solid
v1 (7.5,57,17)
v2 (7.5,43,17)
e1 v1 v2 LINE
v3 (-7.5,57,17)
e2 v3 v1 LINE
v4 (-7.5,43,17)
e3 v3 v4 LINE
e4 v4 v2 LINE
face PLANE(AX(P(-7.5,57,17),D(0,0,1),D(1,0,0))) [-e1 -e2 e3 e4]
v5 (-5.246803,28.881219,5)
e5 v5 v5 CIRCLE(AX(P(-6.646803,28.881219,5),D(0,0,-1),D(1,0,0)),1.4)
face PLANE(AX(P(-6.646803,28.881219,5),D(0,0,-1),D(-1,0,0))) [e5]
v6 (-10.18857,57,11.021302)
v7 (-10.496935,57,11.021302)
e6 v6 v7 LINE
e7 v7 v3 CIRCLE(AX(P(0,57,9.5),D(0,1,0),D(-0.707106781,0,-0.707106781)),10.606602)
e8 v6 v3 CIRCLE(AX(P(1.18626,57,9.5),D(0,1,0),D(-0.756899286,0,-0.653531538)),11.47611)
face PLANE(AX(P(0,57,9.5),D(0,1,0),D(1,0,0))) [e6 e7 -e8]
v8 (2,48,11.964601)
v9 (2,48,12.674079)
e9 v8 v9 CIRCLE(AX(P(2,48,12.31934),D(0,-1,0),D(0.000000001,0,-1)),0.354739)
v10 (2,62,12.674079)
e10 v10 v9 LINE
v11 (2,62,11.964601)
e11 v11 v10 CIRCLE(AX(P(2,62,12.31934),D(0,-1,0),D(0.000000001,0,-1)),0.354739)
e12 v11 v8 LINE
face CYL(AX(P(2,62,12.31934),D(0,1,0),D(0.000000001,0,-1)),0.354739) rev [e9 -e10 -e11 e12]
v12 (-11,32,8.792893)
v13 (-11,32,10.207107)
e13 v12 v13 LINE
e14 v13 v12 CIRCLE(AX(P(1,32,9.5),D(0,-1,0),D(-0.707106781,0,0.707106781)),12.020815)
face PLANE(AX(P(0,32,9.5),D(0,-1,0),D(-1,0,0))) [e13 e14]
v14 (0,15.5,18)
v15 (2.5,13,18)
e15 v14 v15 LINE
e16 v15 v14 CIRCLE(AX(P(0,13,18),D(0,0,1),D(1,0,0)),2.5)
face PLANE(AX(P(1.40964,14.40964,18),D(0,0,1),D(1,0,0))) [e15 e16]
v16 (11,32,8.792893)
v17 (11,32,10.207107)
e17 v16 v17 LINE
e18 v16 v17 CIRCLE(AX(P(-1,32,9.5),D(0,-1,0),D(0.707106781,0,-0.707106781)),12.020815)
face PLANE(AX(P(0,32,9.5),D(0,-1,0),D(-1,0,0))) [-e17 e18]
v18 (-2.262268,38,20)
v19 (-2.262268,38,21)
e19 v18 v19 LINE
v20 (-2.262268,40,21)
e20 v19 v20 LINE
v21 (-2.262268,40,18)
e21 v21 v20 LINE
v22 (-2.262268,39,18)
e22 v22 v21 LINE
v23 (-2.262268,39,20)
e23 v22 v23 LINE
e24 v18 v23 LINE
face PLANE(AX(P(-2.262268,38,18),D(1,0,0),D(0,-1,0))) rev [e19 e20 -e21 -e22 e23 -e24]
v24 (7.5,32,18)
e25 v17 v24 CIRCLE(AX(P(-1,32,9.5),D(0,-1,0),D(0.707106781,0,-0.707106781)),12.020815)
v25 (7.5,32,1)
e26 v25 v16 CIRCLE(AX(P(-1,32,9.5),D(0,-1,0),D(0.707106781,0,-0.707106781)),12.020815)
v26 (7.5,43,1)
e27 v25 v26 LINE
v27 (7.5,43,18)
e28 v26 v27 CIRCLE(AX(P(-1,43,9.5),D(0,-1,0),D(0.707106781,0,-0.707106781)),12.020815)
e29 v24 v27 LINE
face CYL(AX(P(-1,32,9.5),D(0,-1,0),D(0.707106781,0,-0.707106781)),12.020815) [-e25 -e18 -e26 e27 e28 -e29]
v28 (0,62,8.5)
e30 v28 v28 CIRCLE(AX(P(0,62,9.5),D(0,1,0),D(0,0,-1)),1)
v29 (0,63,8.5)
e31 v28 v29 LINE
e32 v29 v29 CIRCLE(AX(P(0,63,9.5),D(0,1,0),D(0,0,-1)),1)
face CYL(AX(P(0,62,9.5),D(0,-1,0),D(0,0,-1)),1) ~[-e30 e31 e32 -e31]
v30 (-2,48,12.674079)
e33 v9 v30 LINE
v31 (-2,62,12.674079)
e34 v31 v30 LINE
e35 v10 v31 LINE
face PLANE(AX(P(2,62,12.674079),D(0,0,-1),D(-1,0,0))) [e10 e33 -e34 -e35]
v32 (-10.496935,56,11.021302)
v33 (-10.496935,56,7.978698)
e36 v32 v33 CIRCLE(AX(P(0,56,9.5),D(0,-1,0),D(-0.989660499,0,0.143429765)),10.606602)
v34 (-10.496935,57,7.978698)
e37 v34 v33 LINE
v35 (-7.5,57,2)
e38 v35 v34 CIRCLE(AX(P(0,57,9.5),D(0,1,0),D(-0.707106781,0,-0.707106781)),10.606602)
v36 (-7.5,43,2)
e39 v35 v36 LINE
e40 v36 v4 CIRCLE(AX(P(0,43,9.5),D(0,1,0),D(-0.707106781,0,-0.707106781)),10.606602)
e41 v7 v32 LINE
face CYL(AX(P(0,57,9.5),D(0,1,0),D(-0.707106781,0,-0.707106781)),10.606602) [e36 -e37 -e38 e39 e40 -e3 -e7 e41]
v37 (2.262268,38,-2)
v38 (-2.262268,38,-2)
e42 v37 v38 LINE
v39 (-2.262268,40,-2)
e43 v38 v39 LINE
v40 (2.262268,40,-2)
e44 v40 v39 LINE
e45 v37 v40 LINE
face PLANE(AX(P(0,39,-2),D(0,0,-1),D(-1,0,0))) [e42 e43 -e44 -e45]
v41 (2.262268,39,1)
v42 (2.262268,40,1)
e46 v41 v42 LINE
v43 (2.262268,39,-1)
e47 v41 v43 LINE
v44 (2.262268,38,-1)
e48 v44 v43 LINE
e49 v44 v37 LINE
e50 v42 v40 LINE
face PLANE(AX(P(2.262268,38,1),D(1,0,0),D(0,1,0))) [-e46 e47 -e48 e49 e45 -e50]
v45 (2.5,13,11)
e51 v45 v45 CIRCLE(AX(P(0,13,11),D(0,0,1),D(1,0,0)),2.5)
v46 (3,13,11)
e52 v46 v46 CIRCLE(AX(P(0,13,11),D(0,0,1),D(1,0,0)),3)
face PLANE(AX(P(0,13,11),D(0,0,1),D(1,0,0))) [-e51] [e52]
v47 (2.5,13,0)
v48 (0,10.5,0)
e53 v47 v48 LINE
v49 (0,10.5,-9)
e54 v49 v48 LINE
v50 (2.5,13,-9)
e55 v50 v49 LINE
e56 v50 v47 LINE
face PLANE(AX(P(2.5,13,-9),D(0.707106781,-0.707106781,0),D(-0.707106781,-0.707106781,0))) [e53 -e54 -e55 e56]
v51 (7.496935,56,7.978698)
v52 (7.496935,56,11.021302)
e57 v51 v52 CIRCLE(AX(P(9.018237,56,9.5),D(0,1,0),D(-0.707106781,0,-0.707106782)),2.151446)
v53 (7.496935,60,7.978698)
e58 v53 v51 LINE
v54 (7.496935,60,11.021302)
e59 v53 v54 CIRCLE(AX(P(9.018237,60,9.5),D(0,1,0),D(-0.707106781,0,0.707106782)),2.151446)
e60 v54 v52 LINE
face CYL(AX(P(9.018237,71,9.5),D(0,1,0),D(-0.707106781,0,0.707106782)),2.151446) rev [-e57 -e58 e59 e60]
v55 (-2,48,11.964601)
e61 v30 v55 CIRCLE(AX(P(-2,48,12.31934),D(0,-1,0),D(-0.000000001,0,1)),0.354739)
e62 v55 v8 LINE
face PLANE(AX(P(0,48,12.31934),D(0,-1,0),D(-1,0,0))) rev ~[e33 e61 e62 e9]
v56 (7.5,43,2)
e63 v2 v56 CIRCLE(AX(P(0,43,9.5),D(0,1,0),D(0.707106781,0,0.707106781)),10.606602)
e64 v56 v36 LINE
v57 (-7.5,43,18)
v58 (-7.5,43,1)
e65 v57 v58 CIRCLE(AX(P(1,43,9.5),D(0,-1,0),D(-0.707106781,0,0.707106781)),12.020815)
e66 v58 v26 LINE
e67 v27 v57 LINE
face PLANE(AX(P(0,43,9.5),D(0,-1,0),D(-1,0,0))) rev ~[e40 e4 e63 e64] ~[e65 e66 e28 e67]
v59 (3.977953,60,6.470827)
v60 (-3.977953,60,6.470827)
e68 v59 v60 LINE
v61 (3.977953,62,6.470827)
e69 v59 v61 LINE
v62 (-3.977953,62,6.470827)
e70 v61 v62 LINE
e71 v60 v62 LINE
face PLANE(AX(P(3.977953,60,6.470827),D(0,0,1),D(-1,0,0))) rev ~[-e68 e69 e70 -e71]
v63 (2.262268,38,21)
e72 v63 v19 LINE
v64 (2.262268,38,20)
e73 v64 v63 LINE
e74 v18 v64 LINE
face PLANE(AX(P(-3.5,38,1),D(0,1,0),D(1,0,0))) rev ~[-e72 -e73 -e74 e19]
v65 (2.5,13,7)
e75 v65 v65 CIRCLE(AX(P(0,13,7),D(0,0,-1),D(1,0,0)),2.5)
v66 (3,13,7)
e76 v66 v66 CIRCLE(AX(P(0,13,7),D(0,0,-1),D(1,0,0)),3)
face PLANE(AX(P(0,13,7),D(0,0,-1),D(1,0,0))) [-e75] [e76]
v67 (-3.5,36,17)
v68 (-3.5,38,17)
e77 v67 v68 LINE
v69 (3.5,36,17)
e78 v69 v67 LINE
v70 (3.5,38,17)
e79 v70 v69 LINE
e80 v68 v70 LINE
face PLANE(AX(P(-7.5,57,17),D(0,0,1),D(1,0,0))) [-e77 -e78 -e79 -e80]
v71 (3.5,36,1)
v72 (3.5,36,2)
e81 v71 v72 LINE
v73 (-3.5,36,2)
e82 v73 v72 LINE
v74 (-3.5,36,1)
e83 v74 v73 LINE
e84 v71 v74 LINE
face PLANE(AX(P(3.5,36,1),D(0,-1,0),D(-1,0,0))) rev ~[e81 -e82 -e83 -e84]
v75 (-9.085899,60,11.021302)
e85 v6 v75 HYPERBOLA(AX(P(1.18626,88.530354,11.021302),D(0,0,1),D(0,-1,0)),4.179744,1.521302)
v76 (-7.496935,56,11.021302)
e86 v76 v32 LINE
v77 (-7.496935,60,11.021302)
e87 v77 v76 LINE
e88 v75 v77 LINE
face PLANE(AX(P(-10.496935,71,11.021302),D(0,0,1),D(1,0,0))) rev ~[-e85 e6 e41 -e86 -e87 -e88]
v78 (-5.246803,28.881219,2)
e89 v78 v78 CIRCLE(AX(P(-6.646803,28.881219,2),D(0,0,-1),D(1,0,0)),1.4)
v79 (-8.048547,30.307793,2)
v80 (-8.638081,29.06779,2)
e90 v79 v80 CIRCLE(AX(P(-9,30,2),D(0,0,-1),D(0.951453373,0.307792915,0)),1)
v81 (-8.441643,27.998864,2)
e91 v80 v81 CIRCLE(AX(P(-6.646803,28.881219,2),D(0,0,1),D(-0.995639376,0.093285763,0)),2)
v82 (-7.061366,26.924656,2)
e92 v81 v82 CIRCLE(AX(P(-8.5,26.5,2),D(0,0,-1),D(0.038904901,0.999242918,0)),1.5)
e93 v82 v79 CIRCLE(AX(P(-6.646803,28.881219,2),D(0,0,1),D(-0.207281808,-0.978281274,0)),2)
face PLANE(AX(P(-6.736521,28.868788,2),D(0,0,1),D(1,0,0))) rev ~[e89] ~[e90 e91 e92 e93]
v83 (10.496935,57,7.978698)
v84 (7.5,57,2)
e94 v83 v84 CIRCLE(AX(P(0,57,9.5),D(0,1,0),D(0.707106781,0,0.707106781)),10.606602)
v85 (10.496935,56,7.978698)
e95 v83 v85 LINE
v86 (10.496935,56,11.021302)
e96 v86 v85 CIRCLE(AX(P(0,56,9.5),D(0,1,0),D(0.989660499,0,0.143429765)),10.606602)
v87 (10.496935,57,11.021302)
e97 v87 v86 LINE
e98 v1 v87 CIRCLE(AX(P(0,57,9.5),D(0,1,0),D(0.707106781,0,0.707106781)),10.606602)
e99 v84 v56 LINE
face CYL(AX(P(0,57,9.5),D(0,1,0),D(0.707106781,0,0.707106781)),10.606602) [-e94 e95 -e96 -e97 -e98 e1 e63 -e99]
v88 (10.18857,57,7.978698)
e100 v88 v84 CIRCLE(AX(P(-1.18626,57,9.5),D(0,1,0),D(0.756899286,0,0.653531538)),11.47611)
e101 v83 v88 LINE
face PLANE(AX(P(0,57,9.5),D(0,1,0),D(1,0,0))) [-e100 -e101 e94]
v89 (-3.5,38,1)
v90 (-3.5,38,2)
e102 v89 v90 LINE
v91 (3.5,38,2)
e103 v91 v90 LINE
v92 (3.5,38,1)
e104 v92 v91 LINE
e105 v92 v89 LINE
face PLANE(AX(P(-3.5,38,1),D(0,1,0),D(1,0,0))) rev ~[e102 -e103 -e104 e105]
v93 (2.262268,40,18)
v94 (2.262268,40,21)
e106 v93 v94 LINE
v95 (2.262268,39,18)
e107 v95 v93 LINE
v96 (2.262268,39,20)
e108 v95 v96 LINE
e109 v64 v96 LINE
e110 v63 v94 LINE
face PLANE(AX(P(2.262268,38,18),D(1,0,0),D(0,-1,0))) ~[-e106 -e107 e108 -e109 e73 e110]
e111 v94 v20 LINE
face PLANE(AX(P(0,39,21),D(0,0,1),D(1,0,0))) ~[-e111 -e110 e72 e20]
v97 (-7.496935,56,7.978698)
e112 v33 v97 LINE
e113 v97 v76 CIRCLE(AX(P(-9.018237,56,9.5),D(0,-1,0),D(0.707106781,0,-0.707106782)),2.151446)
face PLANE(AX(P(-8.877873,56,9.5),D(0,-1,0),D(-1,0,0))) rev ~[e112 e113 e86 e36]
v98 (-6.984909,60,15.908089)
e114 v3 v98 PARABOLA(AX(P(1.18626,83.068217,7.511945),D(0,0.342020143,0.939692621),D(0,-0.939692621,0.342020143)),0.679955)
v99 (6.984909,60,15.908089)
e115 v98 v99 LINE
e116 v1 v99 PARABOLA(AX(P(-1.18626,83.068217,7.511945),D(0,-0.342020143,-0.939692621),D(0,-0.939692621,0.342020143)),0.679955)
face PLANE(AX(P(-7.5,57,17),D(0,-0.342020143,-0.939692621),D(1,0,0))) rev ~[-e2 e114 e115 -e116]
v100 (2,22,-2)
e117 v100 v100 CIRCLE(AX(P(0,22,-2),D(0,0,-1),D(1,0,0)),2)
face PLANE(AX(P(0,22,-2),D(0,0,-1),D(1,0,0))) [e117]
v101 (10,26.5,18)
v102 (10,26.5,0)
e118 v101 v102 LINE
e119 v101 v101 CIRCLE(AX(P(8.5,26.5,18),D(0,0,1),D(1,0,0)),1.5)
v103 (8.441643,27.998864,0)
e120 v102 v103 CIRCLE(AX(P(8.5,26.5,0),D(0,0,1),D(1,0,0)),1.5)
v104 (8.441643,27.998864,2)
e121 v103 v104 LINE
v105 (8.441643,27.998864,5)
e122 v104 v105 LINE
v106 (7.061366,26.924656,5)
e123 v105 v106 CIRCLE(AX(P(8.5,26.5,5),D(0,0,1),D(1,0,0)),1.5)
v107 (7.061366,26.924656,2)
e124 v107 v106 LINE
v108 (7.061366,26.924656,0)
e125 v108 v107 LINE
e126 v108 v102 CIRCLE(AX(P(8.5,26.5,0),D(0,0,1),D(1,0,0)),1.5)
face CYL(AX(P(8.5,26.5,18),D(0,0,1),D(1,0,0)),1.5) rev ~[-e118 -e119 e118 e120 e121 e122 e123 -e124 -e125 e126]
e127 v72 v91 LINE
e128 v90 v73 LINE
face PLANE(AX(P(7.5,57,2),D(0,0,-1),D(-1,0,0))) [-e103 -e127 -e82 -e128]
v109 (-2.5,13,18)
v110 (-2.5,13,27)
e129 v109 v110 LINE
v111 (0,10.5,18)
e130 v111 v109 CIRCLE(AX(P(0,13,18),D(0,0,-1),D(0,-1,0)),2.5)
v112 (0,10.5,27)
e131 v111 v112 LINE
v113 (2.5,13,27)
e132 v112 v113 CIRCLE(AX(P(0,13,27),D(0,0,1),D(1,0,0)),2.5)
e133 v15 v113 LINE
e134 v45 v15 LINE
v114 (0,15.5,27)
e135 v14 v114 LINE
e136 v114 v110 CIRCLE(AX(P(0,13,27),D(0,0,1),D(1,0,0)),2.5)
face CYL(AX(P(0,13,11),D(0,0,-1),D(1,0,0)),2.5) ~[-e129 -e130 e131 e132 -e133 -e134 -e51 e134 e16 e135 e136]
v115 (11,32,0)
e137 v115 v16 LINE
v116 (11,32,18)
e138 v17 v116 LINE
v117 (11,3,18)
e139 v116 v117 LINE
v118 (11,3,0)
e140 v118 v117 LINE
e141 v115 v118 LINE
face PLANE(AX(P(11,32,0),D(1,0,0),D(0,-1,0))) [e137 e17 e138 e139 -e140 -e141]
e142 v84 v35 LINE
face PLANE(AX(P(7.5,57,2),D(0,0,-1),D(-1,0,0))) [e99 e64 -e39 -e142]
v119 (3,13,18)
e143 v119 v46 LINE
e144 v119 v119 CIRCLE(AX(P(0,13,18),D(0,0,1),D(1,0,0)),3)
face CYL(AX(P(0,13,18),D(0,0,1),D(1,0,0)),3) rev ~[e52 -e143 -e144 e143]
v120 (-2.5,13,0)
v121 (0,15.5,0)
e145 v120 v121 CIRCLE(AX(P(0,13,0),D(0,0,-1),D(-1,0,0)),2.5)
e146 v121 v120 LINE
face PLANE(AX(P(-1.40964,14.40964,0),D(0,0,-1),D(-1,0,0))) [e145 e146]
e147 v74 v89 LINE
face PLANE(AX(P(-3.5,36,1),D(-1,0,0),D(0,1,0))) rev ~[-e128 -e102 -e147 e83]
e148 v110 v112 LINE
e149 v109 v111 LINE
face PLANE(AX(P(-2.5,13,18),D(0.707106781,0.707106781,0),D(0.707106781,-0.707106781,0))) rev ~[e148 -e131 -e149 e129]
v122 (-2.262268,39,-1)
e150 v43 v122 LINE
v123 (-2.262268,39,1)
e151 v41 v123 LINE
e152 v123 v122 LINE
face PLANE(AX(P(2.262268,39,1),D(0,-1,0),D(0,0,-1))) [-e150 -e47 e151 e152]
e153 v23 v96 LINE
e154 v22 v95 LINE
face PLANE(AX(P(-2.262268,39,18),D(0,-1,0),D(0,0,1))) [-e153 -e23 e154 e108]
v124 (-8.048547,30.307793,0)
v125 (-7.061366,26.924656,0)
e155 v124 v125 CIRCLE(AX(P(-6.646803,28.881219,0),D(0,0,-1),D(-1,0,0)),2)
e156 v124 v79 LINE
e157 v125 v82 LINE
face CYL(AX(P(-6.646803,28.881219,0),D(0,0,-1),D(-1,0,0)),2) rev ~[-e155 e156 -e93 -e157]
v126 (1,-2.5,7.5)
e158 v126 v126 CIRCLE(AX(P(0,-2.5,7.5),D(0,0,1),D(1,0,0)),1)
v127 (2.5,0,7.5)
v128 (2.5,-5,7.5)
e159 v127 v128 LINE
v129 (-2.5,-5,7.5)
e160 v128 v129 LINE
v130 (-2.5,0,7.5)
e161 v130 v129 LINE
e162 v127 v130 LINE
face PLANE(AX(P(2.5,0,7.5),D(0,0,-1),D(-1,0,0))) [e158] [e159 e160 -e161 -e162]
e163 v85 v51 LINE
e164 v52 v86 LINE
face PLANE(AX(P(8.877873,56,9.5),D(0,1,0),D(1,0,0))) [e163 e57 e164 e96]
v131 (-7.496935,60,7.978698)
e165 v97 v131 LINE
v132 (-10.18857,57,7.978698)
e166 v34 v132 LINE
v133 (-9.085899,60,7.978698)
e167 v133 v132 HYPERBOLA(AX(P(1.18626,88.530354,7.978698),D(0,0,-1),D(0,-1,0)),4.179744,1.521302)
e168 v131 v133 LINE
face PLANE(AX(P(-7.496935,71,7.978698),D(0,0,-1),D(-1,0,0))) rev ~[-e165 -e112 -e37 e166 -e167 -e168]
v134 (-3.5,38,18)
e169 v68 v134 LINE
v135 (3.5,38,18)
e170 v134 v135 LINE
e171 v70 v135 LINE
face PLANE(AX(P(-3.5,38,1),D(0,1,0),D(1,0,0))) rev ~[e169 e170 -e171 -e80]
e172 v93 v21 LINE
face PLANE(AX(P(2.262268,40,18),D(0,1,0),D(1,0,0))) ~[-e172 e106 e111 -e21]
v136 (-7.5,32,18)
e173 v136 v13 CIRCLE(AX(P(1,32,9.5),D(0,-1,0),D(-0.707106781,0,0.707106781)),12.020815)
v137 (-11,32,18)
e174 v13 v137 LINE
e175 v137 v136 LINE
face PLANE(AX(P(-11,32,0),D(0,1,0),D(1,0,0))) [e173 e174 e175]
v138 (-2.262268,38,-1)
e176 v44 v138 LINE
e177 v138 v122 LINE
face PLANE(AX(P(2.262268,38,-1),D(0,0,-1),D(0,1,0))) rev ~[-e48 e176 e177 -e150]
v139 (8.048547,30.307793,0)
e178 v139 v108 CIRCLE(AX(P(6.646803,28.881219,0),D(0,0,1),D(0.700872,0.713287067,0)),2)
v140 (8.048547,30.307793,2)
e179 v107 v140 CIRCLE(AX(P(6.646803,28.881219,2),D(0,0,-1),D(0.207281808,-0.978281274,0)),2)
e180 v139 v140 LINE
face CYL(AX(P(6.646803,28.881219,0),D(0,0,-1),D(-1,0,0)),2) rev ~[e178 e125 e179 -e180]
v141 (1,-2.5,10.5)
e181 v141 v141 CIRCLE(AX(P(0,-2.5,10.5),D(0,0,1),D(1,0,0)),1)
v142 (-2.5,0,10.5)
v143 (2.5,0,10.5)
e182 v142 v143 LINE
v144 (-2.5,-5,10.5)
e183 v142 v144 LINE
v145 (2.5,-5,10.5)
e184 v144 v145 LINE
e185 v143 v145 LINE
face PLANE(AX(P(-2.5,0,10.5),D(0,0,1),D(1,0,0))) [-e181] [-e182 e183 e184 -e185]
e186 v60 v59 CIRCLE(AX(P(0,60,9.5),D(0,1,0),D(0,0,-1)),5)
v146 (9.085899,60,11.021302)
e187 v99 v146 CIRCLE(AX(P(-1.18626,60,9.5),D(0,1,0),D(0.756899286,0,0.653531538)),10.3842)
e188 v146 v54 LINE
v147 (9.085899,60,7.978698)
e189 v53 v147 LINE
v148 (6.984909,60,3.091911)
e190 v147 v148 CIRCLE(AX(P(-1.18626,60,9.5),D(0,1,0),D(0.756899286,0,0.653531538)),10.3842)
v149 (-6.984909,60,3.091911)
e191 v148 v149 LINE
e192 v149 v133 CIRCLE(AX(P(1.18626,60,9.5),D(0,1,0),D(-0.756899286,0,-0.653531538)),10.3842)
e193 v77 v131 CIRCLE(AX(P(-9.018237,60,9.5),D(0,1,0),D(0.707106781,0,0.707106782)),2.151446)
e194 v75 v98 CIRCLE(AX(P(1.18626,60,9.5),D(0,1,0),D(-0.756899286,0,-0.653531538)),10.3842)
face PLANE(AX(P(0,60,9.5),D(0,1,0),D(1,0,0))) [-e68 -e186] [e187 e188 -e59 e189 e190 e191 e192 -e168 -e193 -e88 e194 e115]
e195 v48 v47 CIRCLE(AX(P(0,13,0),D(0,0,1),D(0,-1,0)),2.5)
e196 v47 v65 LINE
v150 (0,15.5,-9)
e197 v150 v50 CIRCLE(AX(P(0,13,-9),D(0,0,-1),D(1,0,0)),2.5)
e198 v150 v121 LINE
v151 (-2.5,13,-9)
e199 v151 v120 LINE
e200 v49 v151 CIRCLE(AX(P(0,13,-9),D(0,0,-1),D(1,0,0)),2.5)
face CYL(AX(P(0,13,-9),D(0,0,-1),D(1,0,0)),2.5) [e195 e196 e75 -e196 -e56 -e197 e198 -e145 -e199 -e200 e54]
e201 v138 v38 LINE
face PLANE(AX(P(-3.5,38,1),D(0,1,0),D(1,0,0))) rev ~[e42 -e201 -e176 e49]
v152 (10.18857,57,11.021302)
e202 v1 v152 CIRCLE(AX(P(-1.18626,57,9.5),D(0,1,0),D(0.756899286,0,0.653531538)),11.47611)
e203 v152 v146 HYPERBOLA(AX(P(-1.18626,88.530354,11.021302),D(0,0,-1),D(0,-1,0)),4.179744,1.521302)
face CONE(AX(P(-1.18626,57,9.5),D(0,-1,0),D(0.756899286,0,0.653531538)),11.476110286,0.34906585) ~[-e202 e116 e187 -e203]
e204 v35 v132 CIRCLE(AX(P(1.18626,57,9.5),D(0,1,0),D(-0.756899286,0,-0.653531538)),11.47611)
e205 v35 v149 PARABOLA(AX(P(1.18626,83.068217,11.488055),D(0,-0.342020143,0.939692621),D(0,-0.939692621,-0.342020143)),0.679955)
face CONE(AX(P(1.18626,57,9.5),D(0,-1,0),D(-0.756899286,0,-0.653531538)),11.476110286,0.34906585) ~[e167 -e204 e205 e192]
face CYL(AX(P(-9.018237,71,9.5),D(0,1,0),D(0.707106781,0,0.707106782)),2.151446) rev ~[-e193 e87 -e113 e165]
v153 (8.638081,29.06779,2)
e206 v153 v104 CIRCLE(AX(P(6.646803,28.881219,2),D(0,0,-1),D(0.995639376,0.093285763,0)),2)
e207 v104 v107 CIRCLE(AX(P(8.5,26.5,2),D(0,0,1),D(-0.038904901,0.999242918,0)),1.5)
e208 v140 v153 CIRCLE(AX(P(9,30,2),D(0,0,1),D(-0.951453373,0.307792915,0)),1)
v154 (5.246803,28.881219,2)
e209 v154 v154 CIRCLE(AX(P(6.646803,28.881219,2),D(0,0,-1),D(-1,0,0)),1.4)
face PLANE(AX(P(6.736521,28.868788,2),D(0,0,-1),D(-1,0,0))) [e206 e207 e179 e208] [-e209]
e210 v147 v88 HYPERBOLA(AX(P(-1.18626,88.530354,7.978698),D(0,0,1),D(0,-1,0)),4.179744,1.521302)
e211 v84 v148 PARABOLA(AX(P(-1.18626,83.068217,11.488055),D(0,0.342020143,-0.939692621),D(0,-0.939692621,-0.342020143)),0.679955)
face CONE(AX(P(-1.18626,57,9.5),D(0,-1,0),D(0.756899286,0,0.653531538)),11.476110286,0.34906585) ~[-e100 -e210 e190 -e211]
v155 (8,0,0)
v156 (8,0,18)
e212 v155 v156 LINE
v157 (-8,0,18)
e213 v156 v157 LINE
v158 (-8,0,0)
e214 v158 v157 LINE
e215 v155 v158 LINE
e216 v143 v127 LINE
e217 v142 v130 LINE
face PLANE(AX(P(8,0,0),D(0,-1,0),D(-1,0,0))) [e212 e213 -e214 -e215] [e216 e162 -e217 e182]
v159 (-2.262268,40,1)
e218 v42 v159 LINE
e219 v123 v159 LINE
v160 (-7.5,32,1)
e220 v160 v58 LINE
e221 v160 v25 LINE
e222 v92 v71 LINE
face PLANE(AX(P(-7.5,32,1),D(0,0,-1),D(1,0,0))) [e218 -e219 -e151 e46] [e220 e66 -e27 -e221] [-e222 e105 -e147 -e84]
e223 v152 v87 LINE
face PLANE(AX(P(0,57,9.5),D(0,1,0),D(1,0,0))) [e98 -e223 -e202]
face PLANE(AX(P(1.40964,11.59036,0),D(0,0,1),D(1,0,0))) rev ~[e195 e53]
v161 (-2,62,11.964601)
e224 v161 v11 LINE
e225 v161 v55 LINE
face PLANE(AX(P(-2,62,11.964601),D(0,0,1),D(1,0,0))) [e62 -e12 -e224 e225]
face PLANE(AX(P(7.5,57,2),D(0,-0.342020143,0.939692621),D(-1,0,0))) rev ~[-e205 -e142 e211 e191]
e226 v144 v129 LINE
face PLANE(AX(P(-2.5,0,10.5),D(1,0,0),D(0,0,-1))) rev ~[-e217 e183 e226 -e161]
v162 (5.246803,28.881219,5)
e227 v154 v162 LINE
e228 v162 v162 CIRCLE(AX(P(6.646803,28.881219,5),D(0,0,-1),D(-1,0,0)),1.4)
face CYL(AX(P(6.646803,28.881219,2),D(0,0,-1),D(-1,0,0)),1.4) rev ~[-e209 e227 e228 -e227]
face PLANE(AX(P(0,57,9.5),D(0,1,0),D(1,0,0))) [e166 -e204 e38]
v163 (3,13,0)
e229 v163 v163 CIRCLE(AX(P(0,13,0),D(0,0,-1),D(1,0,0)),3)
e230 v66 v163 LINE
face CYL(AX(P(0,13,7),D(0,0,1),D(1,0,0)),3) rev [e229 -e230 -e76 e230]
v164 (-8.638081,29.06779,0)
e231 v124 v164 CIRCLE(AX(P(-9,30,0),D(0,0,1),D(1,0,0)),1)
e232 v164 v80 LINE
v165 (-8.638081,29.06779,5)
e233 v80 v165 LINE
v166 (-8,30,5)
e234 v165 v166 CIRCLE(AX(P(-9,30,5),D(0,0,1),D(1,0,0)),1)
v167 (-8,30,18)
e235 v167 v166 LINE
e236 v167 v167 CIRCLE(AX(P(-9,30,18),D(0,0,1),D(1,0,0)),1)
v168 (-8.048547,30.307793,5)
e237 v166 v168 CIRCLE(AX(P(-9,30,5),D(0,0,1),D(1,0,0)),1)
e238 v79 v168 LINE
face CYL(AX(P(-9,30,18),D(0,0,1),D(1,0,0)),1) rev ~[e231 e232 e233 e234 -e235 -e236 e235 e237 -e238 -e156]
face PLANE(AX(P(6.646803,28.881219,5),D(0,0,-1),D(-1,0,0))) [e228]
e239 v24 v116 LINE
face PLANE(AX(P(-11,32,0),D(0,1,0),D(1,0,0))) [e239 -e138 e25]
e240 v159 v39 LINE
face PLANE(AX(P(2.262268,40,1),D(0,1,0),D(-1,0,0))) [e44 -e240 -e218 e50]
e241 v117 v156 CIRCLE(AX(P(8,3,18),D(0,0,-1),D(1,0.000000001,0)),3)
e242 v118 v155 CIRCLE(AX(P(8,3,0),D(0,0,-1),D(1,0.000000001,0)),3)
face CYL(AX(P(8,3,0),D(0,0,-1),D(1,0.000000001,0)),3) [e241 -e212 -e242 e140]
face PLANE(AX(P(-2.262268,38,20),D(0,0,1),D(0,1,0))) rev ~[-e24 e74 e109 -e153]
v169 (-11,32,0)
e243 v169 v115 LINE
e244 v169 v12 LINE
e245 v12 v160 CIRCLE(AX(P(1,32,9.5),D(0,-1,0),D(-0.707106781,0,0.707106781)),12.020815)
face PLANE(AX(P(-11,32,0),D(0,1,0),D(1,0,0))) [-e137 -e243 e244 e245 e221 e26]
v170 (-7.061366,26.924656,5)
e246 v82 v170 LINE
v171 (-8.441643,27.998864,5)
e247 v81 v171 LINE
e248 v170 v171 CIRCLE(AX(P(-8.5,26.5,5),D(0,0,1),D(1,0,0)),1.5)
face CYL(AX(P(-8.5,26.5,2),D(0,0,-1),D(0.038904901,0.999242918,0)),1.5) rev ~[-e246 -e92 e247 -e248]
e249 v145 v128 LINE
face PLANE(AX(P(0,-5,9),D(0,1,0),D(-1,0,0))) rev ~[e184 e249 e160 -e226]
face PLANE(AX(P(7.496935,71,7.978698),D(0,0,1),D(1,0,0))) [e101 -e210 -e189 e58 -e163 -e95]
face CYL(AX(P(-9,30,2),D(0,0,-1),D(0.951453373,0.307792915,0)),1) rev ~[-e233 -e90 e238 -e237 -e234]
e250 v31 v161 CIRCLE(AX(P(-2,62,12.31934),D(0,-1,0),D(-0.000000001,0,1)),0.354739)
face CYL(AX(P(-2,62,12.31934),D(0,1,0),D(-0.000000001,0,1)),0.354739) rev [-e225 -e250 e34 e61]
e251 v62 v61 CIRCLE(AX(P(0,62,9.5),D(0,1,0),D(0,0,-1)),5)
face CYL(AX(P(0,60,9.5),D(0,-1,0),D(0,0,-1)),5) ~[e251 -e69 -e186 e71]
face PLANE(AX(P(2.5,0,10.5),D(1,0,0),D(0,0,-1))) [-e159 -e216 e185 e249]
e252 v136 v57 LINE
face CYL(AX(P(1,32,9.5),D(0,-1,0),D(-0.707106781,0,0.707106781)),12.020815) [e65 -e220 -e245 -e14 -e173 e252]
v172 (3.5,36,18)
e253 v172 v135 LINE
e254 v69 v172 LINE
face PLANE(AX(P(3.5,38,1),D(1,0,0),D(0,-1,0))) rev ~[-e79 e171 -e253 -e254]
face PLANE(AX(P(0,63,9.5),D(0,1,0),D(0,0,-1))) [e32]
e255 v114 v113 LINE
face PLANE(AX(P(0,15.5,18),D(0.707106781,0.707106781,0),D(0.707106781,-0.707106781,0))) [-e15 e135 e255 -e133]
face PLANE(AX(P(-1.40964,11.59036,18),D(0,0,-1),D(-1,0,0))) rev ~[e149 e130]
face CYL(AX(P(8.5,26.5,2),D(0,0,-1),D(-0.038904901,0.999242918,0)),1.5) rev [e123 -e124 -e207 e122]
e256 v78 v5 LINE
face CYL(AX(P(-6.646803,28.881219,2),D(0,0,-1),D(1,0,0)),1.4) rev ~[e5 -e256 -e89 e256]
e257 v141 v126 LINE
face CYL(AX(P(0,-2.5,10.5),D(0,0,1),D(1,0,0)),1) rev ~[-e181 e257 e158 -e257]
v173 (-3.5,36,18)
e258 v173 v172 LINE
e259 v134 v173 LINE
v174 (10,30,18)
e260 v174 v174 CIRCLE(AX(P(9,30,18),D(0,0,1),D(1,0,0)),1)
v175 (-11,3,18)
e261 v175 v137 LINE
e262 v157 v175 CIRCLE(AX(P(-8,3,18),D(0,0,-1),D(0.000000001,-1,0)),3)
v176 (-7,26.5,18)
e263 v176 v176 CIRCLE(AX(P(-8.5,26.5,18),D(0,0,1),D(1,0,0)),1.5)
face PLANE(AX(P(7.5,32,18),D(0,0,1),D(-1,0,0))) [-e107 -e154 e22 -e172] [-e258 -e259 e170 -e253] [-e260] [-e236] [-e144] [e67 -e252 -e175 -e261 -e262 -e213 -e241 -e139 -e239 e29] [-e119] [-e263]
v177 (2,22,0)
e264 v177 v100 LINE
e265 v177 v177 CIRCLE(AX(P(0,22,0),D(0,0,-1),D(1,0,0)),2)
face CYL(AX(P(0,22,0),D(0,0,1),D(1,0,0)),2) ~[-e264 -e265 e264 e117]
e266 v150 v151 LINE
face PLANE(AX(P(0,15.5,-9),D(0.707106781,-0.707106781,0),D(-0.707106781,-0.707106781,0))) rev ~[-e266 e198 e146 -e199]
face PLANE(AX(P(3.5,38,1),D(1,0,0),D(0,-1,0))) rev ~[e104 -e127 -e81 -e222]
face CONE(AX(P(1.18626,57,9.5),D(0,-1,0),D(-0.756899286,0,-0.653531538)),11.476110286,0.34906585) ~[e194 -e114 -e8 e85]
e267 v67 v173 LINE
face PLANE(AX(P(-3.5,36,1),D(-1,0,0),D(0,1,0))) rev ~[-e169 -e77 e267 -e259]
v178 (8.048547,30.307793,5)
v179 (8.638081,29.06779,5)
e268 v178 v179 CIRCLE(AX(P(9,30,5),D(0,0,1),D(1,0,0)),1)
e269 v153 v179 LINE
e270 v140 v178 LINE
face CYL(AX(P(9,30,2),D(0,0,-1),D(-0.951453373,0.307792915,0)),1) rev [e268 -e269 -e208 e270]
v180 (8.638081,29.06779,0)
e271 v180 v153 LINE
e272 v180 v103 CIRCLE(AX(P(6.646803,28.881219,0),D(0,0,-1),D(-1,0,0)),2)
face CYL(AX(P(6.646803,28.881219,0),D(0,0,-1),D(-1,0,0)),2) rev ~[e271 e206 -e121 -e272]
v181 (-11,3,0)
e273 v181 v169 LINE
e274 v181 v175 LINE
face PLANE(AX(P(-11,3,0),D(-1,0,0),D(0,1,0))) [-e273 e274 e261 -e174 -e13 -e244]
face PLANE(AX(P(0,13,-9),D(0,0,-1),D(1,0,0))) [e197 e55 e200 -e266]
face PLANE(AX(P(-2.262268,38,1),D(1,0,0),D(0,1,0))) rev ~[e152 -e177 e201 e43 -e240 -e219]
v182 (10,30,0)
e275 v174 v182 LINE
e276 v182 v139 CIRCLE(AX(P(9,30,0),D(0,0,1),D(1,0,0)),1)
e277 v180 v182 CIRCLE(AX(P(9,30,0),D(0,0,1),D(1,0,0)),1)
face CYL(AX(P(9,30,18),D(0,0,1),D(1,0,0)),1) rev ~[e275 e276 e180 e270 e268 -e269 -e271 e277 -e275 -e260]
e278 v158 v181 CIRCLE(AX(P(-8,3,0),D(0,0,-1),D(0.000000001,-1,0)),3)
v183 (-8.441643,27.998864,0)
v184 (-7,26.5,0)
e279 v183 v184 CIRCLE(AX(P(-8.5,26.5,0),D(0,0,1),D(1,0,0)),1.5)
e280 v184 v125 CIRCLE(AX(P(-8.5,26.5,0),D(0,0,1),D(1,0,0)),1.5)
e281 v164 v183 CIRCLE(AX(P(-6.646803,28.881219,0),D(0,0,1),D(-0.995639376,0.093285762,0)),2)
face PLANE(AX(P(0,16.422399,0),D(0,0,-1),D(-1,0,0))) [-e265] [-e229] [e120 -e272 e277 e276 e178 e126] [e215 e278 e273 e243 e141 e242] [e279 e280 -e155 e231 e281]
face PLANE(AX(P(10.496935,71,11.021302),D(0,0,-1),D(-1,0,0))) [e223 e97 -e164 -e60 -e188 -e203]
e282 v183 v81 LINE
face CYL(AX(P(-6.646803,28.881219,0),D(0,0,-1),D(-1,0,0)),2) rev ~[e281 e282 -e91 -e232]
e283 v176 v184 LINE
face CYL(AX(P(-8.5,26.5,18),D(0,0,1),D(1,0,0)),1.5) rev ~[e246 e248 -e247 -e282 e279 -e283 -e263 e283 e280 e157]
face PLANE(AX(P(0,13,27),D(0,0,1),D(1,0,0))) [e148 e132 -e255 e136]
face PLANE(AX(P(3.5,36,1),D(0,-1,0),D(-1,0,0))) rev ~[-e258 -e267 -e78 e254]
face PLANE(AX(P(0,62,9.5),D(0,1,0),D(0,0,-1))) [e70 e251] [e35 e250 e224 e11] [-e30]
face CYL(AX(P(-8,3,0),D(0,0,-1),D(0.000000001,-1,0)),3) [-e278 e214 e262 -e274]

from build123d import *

# Parameters (mm, degrees)
EXTRUDE_1_DEPTH      = 18
EXTRUDE_2_DEPTH      = 11
SKETCH_3_R           = 1
SKETCH_3_R_2         = 1.5
CUT_EXTRUDE_1_DEPTH  = 31
SKETCH_4_R           = 3
CUT_EXTRUDE_2_DEPTH  = 7
CUT_EXTRUDE_START    = -7
SKETCH_5_R           = 3
CUT_EXTRUDE_3_DEPTH  = 7
SKETCH_6_R           = 2.5
EXTRUDE_3_DEPTH      = 16
CUT_EXTRUDE_START_2  = -9
CUT_EXTRUDE_4_DEPTH  = 9
EXTRUDE_START        = 16
SKETCH_8_R           = 2.5
EXTRUDE_4_DEPTH      = 16
CUT_EXTRUDE_5_DEPTH  = 9
EXTRUDE_5_DEPTH      = 5
SKETCH_11_R          = 1
CUT_EXTRUDE_6_DEPTH  = 14
SKETCH_12_R          = 2
EXTRUDE_6_DEPTH      = 2
SKETCH_13_R          = 2
CUT_EXTRUDE_7_DEPTH  = 5
EXTRUDE_START_2      = 3
SKETCH_14_R          = 1.4
EXTRUDE_8_DEPTH      = 3
CUT_EXTRUDE_8_DEPTH  = 22
CUT_EXTRUDE_9_DEPTH  = 11
SKETCH_18_W          = 4.5245364
SKETCH_18_H          = 2
EXTRUDE_9_DEPTH      = 3
SKETCH_19_W          = 2
SKETCH_19_H          = 1
CUT_EXTRUDE_10_DEPTH = 8
SKETCH_20_W          = 2
SKETCH_20_H          = 1
CUT_EXTRUDE_11_DEPTH = 8
EXTRUDE_START_3      = 25
EXTRUDE_10_DEPTH     = 25
CUT_EXTRUDE_13_DEPTH = 1
EXTRUDE_11_DEPTH     = 3
EXTRUDE_11_DRAFT     = 20
SKETCH_25_R          = 5
EXTRUDE_12_DEPTH     = 2
CUT_EXTRUDE_START_3  = -2
CUT_EXTRUDE_14_DEPTH = 2
CUT_EXTRUDE_START_4  = -14
CUT_EXTRUDE_15_DEPTH = 14
CUT_EXTRUDE_16_DEPTH = 14
SKETCH_32_R          = 1
EXTRUDE_13_DEPTH     = 1


with BuildPart() as part:
    # 草图1 → 凸台-拉伸1 (new body)
    with BuildSketch(Plane.XY):
        with BuildLine():
            Line((0, 0), (-8, 0))
            ThreePointArc((-8, 0), (-10.121320344, 0.878679656), (-11, 3))
            Line((-11, 3), (-11, 32))
            Line((-11, 32), (11, 32))
            Line((11, 32), (11, 3))
            ThreePointArc((11, 3), (10.121320344, 0.878679656), (8, 0))
            Line((8, 0), (0, 0))
        make_face()
    extrude(amount=EXTRUDE_1_DEPTH)

    # 草图2 → 凸台-拉伸2 (add)
    with BuildSketch(Plane(origin=(0, 32, 0), x_dir=(1, 0, 0), z_dir=(0, 1, 0))):
        with BuildLine():
            Line((7.5, -18), (-7.5, -18))
            ThreePointArc((-7.5, -18), (-11.02081528, -9.5), (-7.5, -1))
            Line((-7.5, -1), (0, -1))
            Line((0, -1), (7.5, -1))
            ThreePointArc((7.5, -1), (11.02081528, -9.5), (7.5, -18))
        make_face()
    extrude(amount=EXTRUDE_2_DEPTH)

    # 草图3 → 切除-拉伸1 (cut)
    with BuildSketch(Plane.XY.offset(18)):
        with Locations((9, 30)):
            Circle(SKETCH_3_R)
        with Locations((8.5, 26.5)):
            Circle(SKETCH_3_R_2)
        with Locations((-8.5, 26.5)):
            Circle(SKETCH_3_R_2)
        with Locations((-9, 30)):
            Circle(SKETCH_3_R)
    extrude(amount=-CUT_EXTRUDE_1_DEPTH, mode=Mode.SUBTRACT)

    # 草图4 → 切除-拉伸2 (cut)
    with BuildSketch(Plane.XY.offset(18)):
        with Locations((0, 13)):
            Circle(SKETCH_4_R)
    extrude(amount=-CUT_EXTRUDE_2_DEPTH, mode=Mode.SUBTRACT)

    # 草图5 → 切除-拉伸3 (cut)
    with BuildSketch(Plane(origin=(0, 0, 0), x_dir=(-1, 0, 0), z_dir=(0, 0, -1)).offset(CUT_EXTRUDE_START)):
        with Locations(Location((0, 13, 0), (0, 0, 180))):
            Circle(SKETCH_5_R)
    extrude(amount=CUT_EXTRUDE_3_DEPTH, mode=Mode.SUBTRACT)

    # 草图6 → 凸台-拉伸3 (add)
    with BuildSketch(Plane.XY.offset(11)):
        with Locations((0, 13)):
            Circle(SKETCH_6_R)
    extrude(amount=EXTRUDE_3_DEPTH)

    # 草图7 → 切除-拉伸4 (cut)
    with BuildSketch(Plane.XY.offset(27).offset(CUT_EXTRUDE_START_2)):
        with BuildLine():
            Line((0, 15.5), (2.5, 13))
            ThreePointArc((2.5, 13), (1.767766953, 14.767766953), (0, 15.5))
        make_face()
        with BuildLine():
            Line((-2.5, 13), (0, 10.5))
            ThreePointArc((0, 10.5), (-1.767766953, 11.232233047), (-2.5, 13))
        make_face()
    extrude(amount=CUT_EXTRUDE_4_DEPTH, mode=Mode.SUBTRACT)

    # 草图8 → 凸台-拉伸4 (add)
    with BuildSketch(Plane(origin=(0, 0, 7), x_dir=(-1, 0, 0), z_dir=(0, 0, -1)).offset(EXTRUDE_START)):
        with Locations(Location((0, 13, 0), (0, 0, 180))):
            Circle(SKETCH_8_R)
    extrude(amount=-EXTRUDE_4_DEPTH)

    # 草图9 → 切除-拉伸5 (cut)
    with BuildSketch(Plane(origin=(0, 0, -9), x_dir=(-1, 0, 0), z_dir=(0, 0, -1))):
        with BuildLine():
            Line((0, 15.5), (2.5, 13))
            ThreePointArc((2.5, 13), (1.767766953, 14.767766953), (0, 15.5))
        make_face()
        with BuildLine():
            Line((-2.5, 13), (0, 10.5))
            ThreePointArc((0, 10.5), (-1.767766953, 11.232233047), (-2.5, 13))
        make_face()
    extrude(amount=-CUT_EXTRUDE_5_DEPTH, mode=Mode.SUBTRACT)

    # 草图10 → 凸台-拉伸5 (add)
    with BuildSketch(Plane.XZ):
        Polygon((-2.5, 9), (-2.5, 10.5), (2.5, 10.5), (2.5, 7.5), (-2.5, 7.5), align=None)
    extrude(amount=EXTRUDE_5_DEPTH)

    # 草图11 → 切除-拉伸6 (cut)
    with BuildSketch(Plane.XY.offset(10.5)):
        with Locations((0, -2.5)):
            Circle(SKETCH_11_R)
    extrude(amount=-CUT_EXTRUDE_6_DEPTH, mode=Mode.SUBTRACT)

    # 草图12 → 凸台-拉伸6 (add)
    with BuildSketch(Plane(origin=(0, 0, 0), x_dir=(-1, 0, 0), z_dir=(0, 0, -1))):
        with Locations(Location((0, 22, 0), (0, 0, 180))):
            Circle(SKETCH_12_R)
    extrude(amount=EXTRUDE_6_DEPTH)

    # 草图13 → 切除-拉伸7 (cut)
    with BuildSketch(Plane(origin=(0, 0, 0), x_dir=(-1, 0, 0), z_dir=(0, 0, -1))):
        with Locations((-6.646802627, 28.881218783)):
            Circle(SKETCH_13_R)
        with Locations((6.646802627, 28.881218783)):
            Circle(SKETCH_13_R)
    extrude(amount=-CUT_EXTRUDE_7_DEPTH, mode=Mode.SUBTRACT)

    # 草图14 → 凸台-拉伸8 (add)
    # profile 1 of 2: a face of its own
    with BuildSketch(Plane(origin=(0, 0, 5), x_dir=(-1, 0, 0), z_dir=(0, 0, -1)).offset(EXTRUDE_START_2)):
        with BuildLine():
            ThreePointArc((-8.638081379, 29.067790307), (-8.61386249, 28.519728121), (-8.441642649, 27.998864377))
            ThreePointArc((-8.441642649, 27.998864377), (-7.578736532, 27.683754038), (-7.061366244, 26.924656234))
            ThreePointArc((-7.061366244, 26.924656234), (-4.726868568, 29.441444815), (-8.048546627, 30.307792916))
            ThreePointArc((-8.048546627, 30.307792916), (-8.096873145, 29.570626173), (-8.638081379, 29.067790307))
        make_face()
        with Locations((-6.646802627, 28.881218783)):
            Circle(SKETCH_14_R, mode=Mode.SUBTRACT)
    # profile 2 of 2: a face of its own
    with BuildSketch(Plane(origin=(0, 0, 5), x_dir=(-1, 0, 0), z_dir=(0, 0, -1)).offset(EXTRUDE_START_2)):
        with BuildLine():
            ThreePointArc((7.061366244, 26.924656234), (4.726868568, 29.441444815), (8.048546627, 30.307792916))
            ThreePointArc((8.048546627, 30.307792916), (8.096873145, 29.570626173), (8.638081379, 29.067790307))
            ThreePointArc((8.638081379, 29.067790307), (8.61386249, 28.519728121), (8.441642649, 27.998864377))
            ThreePointArc((8.441642649, 27.998864377), (7.578736532, 27.683754038), (7.061366244, 26.924656234))
        make_face()
        with Locations(Location((6.646802627, 28.881218783, 0), (0, 0, 180))):
            Circle(SKETCH_14_R, mode=Mode.SUBTRACT)
    extrude(amount=-EXTRUDE_8_DEPTH)

    # 草图16 → 切除-拉伸8 (cut)
    with BuildSketch(Plane(origin=(0, 0, 1), x_dir=(-1, 0, 0), z_dir=(0, 0, -1))):
        Polygon((0, 36), (3.5, 36), (3.5, 38), (-3.5, 38), (-3.5, 36), align=None)
    extrude(amount=-CUT_EXTRUDE_8_DEPTH, mode=Mode.SUBTRACT)

    # 草图17 → 切除-拉伸9 (cut)
    with BuildSketch(Plane(origin=(0, 43, 0), x_dir=(1, 0, 0), z_dir=(0, 1, 0))):
        with BuildLine():
            Line((7.5, -2), (-7.5, -2))
            ThreePointArc((-7.5, -2), (-10.606601718, -9.5), (-7.5, -17))
            Line((-7.5, -17), (7.5, -17))
            ThreePointArc((7.5, -17), (10.606601718, -9.5), (7.5, -2))
        make_face()
    extrude(amount=-CUT_EXTRUDE_9_DEPTH, mode=Mode.SUBTRACT)

    # 草图18 → 凸台-拉伸9 (add)
    with BuildSketch(Plane(origin=(0, 0, 1), x_dir=(-1, 0, 0), z_dir=(0, 0, -1))):
        with Locations((0, 39)):
            Rectangle(SKETCH_18_W, SKETCH_18_H)
    extrude_9 = extrude(amount=EXTRUDE_9_DEPTH)

    # 草图19 → 切除-拉伸10 (cut)
    with BuildSketch(Plane(origin=(2.2622682, 0, 0), x_dir=(0, 0, -1), z_dir=(1, 0, 0))):
        with Locations((0, 38.5)):
            Rectangle(SKETCH_19_W, SKETCH_19_H)
    extrude(amount=-CUT_EXTRUDE_10_DEPTH, mode=Mode.SUBTRACT)

    # 镜向2: 凸台-拉伸9 across plane
    add(extrude_9.mirror(Plane.XY.offset(9.5)))

    # 草图20 → 切除-拉伸11 (cut)
    with BuildSketch(Plane.ZY.offset(2.2622682)):
        with Locations((19, 38.5)):
            Rectangle(SKETCH_20_W, SKETCH_20_H)
    extrude(amount=-CUT_EXTRUDE_11_DEPTH, mode=Mode.SUBTRACT)

    # 草图21 → 凸台-拉伸10 (add)
    with BuildSketch(Plane(origin=(0, 32, 0), x_dir=(1, 0, 0), z_dir=(0, 1, 0)).offset(EXTRUDE_START_3)):
        with BuildLine():
            Line((7.5, -2), (-7.5, -2))
            ThreePointArc((-7.5, -2), (-10.606601718, -9.5), (-7.5, -17))
            Line((-7.5, -17), (7.5, -17))
            ThreePointArc((7.5, -17), (10.606601718, -9.5), (7.5, -2))
        make_face()
    extrude(amount=-EXTRUDE_10_DEPTH)

    # 草图23 → 切除-拉伸13 (cut)
    with BuildSketch(Plane(origin=(0, 57, 0), x_dir=(1, 0, 0), z_dir=(0, 1, 0))):
        with BuildLine():
            Line((-10.496934744, -7.978697601), (-7.496934744, -7.978697601))
            ThreePointArc((-7.496934744, -7.978697601), (-6.866790657, -9.5), (-7.496934744, -11.021302399))
            Line((-7.496934744, -11.021302399), (-10.496934744, -11.021302399))
            ThreePointArc((-10.496934744, -11.021302399), (-10.606601718, -9.5), (-10.496934744, -7.978697601))
        make_face()
        with BuildLine():
            Line((7.496934744, -11.021302399), (10.496934744, -11.021302399))
            ThreePointArc((10.496934744, -11.021302399), (10.606601718, -9.5), (10.496934744, -7.978697601))
            Line((10.496934744, -7.978697601), (7.496934744, -7.978697601))
            ThreePointArc((7.496934744, -7.978697601), (6.866790657, -9.5), (7.496934744, -11.021302399))
        make_face()
    extrude(amount=-CUT_EXTRUDE_13_DEPTH, mode=Mode.SUBTRACT)


with BuildPart() as extrude_11_tool:
    # 草图24 → 凸台-拉伸11 (with draft: the straight prism first)
    with BuildSketch(Plane(origin=(0, 57, 0), x_dir=(1, 0, 0), z_dir=(0, 1, 0))):
        with BuildLine():
            Line((7.5, -2), (-7.5, -2))
            ThreePointArc((-7.5, -2), (-10.289850602, -9.5), (-7.5, -17))
            Line((-7.5, -17), (7.5, -17))
            ThreePointArc((7.5, -17), (10.289850602, -9.5), (7.5, -2))
        make_face()
    extrude(amount=EXTRUDE_11_DEPTH)
    # 凸台-拉伸11: the draft: its side faces are tilted about the plane it starts from
    extrude_11_sides = [extrude_11_tool.faces().sort_by_distance(p)[0] for p in [
        (0, 58.5, 2),
        (-10.289850602, 58.5, 9.5),
        (0, 58.5, 17),
        (10.289850602, 58.5, 9.5),
    ]]
    draft(extrude_11_sides, Plane(origin=(0, 57, 0), x_dir=(1, 0, 0), z_dir=(0, 1, 0)), EXTRUDE_11_DRAFT)


with BuildPart() as part_1:
    add(part.part)

    # 凸台-拉伸11: add extrude_11_tool
    add(extrude_11_tool.part)

    # 草图25 → 凸台-拉伸12 (add)
    with BuildSketch(Plane(origin=(0, 60, 0), x_dir=(1, 0, 0), z_dir=(0, 1, 0))):
        with Locations(Location((0, -9.5, 0), (0, 0, 90))):
            Circle(SKETCH_25_R)
    extrude(amount=EXTRUDE_12_DEPTH)

    # 草图26 → 切除-拉伸14 (cut)
    with BuildSketch(Plane(origin=(0, 62, 0), x_dir=(1, 0, 0), z_dir=(0, 1, 0)).offset(CUT_EXTRUDE_START_3)):
        with BuildLine():
            Line((3.977952818, -6.470826618), (-3.977952818, -6.470826618))
            ThreePointArc((-3.977952818, -6.470826618), (0, -4.5), (3.977952818, -6.470826618))
        make_face()
    extrude(amount=CUT_EXTRUDE_14_DEPTH, mode=Mode.SUBTRACT)

    # 草图30 → 切除-拉伸15 (cut)
    with BuildSketch(Plane.XZ.offset(-57).offset(CUT_EXTRUDE_START_4)):
        with BuildLine():
            Line((7.496934744, 7.978697601), (10.496934744, 7.978697601))
            Line((10.496934744, 7.978697601), (10.496934744, 11.021302399))
            Line((10.496934744, 11.021302399), (7.496934744, 11.021302399))
            ThreePointArc((7.496934744, 11.021302399), (6.866790657, 9.5), (7.496934744, 7.978697601))
        make_face()
        with BuildLine():
            Line((-10.496934744, 11.021302399), (-7.496934744, 11.021302399))
            ThreePointArc((-7.496934744, 11.021302399), (-6.866790657, 9.5), (-7.496934744, 7.978697601))
            Line((-7.496934744, 7.978697601), (-10.496934744, 7.978697601))
            Line((-10.496934744, 7.978697601), (-10.496934744, 11.021302399))
        make_face()
    extrude(amount=CUT_EXTRUDE_15_DEPTH, mode=Mode.SUBTRACT)

    # 草图31 → 切除-拉伸16 (cut)
    with BuildSketch(Plane(origin=(0, 62, 0), x_dir=(1, 0, 0), z_dir=(0, 1, 0))):
        with BuildLine():
            Line((2, -12.67407861), (-2, -12.67407861))
            ThreePointArc((-2, -12.67407861), (-2.354738624, -12.319339986), (-2, -11.964601361))
            Line((-2, -11.964601361), (2, -11.964601361))
            ThreePointArc((2, -11.964601361), (2.354738624, -12.319339986), (2, -12.67407861))
        make_face()
    extrude(amount=-CUT_EXTRUDE_16_DEPTH, mode=Mode.SUBTRACT)

    # 草图32 → 凸台-拉伸13 (add)
    with BuildSketch(Plane(origin=(0, 62, 0), x_dir=(1, 0, 0), z_dir=(0, 1, 0))):
        with Locations(Location((0, -9.5, 0), (0, 0, 90))):
            Circle(SKETCH_32_R)
    extrude(amount=EXTRUDE_13_DEPTH)


solid = part_1.part
